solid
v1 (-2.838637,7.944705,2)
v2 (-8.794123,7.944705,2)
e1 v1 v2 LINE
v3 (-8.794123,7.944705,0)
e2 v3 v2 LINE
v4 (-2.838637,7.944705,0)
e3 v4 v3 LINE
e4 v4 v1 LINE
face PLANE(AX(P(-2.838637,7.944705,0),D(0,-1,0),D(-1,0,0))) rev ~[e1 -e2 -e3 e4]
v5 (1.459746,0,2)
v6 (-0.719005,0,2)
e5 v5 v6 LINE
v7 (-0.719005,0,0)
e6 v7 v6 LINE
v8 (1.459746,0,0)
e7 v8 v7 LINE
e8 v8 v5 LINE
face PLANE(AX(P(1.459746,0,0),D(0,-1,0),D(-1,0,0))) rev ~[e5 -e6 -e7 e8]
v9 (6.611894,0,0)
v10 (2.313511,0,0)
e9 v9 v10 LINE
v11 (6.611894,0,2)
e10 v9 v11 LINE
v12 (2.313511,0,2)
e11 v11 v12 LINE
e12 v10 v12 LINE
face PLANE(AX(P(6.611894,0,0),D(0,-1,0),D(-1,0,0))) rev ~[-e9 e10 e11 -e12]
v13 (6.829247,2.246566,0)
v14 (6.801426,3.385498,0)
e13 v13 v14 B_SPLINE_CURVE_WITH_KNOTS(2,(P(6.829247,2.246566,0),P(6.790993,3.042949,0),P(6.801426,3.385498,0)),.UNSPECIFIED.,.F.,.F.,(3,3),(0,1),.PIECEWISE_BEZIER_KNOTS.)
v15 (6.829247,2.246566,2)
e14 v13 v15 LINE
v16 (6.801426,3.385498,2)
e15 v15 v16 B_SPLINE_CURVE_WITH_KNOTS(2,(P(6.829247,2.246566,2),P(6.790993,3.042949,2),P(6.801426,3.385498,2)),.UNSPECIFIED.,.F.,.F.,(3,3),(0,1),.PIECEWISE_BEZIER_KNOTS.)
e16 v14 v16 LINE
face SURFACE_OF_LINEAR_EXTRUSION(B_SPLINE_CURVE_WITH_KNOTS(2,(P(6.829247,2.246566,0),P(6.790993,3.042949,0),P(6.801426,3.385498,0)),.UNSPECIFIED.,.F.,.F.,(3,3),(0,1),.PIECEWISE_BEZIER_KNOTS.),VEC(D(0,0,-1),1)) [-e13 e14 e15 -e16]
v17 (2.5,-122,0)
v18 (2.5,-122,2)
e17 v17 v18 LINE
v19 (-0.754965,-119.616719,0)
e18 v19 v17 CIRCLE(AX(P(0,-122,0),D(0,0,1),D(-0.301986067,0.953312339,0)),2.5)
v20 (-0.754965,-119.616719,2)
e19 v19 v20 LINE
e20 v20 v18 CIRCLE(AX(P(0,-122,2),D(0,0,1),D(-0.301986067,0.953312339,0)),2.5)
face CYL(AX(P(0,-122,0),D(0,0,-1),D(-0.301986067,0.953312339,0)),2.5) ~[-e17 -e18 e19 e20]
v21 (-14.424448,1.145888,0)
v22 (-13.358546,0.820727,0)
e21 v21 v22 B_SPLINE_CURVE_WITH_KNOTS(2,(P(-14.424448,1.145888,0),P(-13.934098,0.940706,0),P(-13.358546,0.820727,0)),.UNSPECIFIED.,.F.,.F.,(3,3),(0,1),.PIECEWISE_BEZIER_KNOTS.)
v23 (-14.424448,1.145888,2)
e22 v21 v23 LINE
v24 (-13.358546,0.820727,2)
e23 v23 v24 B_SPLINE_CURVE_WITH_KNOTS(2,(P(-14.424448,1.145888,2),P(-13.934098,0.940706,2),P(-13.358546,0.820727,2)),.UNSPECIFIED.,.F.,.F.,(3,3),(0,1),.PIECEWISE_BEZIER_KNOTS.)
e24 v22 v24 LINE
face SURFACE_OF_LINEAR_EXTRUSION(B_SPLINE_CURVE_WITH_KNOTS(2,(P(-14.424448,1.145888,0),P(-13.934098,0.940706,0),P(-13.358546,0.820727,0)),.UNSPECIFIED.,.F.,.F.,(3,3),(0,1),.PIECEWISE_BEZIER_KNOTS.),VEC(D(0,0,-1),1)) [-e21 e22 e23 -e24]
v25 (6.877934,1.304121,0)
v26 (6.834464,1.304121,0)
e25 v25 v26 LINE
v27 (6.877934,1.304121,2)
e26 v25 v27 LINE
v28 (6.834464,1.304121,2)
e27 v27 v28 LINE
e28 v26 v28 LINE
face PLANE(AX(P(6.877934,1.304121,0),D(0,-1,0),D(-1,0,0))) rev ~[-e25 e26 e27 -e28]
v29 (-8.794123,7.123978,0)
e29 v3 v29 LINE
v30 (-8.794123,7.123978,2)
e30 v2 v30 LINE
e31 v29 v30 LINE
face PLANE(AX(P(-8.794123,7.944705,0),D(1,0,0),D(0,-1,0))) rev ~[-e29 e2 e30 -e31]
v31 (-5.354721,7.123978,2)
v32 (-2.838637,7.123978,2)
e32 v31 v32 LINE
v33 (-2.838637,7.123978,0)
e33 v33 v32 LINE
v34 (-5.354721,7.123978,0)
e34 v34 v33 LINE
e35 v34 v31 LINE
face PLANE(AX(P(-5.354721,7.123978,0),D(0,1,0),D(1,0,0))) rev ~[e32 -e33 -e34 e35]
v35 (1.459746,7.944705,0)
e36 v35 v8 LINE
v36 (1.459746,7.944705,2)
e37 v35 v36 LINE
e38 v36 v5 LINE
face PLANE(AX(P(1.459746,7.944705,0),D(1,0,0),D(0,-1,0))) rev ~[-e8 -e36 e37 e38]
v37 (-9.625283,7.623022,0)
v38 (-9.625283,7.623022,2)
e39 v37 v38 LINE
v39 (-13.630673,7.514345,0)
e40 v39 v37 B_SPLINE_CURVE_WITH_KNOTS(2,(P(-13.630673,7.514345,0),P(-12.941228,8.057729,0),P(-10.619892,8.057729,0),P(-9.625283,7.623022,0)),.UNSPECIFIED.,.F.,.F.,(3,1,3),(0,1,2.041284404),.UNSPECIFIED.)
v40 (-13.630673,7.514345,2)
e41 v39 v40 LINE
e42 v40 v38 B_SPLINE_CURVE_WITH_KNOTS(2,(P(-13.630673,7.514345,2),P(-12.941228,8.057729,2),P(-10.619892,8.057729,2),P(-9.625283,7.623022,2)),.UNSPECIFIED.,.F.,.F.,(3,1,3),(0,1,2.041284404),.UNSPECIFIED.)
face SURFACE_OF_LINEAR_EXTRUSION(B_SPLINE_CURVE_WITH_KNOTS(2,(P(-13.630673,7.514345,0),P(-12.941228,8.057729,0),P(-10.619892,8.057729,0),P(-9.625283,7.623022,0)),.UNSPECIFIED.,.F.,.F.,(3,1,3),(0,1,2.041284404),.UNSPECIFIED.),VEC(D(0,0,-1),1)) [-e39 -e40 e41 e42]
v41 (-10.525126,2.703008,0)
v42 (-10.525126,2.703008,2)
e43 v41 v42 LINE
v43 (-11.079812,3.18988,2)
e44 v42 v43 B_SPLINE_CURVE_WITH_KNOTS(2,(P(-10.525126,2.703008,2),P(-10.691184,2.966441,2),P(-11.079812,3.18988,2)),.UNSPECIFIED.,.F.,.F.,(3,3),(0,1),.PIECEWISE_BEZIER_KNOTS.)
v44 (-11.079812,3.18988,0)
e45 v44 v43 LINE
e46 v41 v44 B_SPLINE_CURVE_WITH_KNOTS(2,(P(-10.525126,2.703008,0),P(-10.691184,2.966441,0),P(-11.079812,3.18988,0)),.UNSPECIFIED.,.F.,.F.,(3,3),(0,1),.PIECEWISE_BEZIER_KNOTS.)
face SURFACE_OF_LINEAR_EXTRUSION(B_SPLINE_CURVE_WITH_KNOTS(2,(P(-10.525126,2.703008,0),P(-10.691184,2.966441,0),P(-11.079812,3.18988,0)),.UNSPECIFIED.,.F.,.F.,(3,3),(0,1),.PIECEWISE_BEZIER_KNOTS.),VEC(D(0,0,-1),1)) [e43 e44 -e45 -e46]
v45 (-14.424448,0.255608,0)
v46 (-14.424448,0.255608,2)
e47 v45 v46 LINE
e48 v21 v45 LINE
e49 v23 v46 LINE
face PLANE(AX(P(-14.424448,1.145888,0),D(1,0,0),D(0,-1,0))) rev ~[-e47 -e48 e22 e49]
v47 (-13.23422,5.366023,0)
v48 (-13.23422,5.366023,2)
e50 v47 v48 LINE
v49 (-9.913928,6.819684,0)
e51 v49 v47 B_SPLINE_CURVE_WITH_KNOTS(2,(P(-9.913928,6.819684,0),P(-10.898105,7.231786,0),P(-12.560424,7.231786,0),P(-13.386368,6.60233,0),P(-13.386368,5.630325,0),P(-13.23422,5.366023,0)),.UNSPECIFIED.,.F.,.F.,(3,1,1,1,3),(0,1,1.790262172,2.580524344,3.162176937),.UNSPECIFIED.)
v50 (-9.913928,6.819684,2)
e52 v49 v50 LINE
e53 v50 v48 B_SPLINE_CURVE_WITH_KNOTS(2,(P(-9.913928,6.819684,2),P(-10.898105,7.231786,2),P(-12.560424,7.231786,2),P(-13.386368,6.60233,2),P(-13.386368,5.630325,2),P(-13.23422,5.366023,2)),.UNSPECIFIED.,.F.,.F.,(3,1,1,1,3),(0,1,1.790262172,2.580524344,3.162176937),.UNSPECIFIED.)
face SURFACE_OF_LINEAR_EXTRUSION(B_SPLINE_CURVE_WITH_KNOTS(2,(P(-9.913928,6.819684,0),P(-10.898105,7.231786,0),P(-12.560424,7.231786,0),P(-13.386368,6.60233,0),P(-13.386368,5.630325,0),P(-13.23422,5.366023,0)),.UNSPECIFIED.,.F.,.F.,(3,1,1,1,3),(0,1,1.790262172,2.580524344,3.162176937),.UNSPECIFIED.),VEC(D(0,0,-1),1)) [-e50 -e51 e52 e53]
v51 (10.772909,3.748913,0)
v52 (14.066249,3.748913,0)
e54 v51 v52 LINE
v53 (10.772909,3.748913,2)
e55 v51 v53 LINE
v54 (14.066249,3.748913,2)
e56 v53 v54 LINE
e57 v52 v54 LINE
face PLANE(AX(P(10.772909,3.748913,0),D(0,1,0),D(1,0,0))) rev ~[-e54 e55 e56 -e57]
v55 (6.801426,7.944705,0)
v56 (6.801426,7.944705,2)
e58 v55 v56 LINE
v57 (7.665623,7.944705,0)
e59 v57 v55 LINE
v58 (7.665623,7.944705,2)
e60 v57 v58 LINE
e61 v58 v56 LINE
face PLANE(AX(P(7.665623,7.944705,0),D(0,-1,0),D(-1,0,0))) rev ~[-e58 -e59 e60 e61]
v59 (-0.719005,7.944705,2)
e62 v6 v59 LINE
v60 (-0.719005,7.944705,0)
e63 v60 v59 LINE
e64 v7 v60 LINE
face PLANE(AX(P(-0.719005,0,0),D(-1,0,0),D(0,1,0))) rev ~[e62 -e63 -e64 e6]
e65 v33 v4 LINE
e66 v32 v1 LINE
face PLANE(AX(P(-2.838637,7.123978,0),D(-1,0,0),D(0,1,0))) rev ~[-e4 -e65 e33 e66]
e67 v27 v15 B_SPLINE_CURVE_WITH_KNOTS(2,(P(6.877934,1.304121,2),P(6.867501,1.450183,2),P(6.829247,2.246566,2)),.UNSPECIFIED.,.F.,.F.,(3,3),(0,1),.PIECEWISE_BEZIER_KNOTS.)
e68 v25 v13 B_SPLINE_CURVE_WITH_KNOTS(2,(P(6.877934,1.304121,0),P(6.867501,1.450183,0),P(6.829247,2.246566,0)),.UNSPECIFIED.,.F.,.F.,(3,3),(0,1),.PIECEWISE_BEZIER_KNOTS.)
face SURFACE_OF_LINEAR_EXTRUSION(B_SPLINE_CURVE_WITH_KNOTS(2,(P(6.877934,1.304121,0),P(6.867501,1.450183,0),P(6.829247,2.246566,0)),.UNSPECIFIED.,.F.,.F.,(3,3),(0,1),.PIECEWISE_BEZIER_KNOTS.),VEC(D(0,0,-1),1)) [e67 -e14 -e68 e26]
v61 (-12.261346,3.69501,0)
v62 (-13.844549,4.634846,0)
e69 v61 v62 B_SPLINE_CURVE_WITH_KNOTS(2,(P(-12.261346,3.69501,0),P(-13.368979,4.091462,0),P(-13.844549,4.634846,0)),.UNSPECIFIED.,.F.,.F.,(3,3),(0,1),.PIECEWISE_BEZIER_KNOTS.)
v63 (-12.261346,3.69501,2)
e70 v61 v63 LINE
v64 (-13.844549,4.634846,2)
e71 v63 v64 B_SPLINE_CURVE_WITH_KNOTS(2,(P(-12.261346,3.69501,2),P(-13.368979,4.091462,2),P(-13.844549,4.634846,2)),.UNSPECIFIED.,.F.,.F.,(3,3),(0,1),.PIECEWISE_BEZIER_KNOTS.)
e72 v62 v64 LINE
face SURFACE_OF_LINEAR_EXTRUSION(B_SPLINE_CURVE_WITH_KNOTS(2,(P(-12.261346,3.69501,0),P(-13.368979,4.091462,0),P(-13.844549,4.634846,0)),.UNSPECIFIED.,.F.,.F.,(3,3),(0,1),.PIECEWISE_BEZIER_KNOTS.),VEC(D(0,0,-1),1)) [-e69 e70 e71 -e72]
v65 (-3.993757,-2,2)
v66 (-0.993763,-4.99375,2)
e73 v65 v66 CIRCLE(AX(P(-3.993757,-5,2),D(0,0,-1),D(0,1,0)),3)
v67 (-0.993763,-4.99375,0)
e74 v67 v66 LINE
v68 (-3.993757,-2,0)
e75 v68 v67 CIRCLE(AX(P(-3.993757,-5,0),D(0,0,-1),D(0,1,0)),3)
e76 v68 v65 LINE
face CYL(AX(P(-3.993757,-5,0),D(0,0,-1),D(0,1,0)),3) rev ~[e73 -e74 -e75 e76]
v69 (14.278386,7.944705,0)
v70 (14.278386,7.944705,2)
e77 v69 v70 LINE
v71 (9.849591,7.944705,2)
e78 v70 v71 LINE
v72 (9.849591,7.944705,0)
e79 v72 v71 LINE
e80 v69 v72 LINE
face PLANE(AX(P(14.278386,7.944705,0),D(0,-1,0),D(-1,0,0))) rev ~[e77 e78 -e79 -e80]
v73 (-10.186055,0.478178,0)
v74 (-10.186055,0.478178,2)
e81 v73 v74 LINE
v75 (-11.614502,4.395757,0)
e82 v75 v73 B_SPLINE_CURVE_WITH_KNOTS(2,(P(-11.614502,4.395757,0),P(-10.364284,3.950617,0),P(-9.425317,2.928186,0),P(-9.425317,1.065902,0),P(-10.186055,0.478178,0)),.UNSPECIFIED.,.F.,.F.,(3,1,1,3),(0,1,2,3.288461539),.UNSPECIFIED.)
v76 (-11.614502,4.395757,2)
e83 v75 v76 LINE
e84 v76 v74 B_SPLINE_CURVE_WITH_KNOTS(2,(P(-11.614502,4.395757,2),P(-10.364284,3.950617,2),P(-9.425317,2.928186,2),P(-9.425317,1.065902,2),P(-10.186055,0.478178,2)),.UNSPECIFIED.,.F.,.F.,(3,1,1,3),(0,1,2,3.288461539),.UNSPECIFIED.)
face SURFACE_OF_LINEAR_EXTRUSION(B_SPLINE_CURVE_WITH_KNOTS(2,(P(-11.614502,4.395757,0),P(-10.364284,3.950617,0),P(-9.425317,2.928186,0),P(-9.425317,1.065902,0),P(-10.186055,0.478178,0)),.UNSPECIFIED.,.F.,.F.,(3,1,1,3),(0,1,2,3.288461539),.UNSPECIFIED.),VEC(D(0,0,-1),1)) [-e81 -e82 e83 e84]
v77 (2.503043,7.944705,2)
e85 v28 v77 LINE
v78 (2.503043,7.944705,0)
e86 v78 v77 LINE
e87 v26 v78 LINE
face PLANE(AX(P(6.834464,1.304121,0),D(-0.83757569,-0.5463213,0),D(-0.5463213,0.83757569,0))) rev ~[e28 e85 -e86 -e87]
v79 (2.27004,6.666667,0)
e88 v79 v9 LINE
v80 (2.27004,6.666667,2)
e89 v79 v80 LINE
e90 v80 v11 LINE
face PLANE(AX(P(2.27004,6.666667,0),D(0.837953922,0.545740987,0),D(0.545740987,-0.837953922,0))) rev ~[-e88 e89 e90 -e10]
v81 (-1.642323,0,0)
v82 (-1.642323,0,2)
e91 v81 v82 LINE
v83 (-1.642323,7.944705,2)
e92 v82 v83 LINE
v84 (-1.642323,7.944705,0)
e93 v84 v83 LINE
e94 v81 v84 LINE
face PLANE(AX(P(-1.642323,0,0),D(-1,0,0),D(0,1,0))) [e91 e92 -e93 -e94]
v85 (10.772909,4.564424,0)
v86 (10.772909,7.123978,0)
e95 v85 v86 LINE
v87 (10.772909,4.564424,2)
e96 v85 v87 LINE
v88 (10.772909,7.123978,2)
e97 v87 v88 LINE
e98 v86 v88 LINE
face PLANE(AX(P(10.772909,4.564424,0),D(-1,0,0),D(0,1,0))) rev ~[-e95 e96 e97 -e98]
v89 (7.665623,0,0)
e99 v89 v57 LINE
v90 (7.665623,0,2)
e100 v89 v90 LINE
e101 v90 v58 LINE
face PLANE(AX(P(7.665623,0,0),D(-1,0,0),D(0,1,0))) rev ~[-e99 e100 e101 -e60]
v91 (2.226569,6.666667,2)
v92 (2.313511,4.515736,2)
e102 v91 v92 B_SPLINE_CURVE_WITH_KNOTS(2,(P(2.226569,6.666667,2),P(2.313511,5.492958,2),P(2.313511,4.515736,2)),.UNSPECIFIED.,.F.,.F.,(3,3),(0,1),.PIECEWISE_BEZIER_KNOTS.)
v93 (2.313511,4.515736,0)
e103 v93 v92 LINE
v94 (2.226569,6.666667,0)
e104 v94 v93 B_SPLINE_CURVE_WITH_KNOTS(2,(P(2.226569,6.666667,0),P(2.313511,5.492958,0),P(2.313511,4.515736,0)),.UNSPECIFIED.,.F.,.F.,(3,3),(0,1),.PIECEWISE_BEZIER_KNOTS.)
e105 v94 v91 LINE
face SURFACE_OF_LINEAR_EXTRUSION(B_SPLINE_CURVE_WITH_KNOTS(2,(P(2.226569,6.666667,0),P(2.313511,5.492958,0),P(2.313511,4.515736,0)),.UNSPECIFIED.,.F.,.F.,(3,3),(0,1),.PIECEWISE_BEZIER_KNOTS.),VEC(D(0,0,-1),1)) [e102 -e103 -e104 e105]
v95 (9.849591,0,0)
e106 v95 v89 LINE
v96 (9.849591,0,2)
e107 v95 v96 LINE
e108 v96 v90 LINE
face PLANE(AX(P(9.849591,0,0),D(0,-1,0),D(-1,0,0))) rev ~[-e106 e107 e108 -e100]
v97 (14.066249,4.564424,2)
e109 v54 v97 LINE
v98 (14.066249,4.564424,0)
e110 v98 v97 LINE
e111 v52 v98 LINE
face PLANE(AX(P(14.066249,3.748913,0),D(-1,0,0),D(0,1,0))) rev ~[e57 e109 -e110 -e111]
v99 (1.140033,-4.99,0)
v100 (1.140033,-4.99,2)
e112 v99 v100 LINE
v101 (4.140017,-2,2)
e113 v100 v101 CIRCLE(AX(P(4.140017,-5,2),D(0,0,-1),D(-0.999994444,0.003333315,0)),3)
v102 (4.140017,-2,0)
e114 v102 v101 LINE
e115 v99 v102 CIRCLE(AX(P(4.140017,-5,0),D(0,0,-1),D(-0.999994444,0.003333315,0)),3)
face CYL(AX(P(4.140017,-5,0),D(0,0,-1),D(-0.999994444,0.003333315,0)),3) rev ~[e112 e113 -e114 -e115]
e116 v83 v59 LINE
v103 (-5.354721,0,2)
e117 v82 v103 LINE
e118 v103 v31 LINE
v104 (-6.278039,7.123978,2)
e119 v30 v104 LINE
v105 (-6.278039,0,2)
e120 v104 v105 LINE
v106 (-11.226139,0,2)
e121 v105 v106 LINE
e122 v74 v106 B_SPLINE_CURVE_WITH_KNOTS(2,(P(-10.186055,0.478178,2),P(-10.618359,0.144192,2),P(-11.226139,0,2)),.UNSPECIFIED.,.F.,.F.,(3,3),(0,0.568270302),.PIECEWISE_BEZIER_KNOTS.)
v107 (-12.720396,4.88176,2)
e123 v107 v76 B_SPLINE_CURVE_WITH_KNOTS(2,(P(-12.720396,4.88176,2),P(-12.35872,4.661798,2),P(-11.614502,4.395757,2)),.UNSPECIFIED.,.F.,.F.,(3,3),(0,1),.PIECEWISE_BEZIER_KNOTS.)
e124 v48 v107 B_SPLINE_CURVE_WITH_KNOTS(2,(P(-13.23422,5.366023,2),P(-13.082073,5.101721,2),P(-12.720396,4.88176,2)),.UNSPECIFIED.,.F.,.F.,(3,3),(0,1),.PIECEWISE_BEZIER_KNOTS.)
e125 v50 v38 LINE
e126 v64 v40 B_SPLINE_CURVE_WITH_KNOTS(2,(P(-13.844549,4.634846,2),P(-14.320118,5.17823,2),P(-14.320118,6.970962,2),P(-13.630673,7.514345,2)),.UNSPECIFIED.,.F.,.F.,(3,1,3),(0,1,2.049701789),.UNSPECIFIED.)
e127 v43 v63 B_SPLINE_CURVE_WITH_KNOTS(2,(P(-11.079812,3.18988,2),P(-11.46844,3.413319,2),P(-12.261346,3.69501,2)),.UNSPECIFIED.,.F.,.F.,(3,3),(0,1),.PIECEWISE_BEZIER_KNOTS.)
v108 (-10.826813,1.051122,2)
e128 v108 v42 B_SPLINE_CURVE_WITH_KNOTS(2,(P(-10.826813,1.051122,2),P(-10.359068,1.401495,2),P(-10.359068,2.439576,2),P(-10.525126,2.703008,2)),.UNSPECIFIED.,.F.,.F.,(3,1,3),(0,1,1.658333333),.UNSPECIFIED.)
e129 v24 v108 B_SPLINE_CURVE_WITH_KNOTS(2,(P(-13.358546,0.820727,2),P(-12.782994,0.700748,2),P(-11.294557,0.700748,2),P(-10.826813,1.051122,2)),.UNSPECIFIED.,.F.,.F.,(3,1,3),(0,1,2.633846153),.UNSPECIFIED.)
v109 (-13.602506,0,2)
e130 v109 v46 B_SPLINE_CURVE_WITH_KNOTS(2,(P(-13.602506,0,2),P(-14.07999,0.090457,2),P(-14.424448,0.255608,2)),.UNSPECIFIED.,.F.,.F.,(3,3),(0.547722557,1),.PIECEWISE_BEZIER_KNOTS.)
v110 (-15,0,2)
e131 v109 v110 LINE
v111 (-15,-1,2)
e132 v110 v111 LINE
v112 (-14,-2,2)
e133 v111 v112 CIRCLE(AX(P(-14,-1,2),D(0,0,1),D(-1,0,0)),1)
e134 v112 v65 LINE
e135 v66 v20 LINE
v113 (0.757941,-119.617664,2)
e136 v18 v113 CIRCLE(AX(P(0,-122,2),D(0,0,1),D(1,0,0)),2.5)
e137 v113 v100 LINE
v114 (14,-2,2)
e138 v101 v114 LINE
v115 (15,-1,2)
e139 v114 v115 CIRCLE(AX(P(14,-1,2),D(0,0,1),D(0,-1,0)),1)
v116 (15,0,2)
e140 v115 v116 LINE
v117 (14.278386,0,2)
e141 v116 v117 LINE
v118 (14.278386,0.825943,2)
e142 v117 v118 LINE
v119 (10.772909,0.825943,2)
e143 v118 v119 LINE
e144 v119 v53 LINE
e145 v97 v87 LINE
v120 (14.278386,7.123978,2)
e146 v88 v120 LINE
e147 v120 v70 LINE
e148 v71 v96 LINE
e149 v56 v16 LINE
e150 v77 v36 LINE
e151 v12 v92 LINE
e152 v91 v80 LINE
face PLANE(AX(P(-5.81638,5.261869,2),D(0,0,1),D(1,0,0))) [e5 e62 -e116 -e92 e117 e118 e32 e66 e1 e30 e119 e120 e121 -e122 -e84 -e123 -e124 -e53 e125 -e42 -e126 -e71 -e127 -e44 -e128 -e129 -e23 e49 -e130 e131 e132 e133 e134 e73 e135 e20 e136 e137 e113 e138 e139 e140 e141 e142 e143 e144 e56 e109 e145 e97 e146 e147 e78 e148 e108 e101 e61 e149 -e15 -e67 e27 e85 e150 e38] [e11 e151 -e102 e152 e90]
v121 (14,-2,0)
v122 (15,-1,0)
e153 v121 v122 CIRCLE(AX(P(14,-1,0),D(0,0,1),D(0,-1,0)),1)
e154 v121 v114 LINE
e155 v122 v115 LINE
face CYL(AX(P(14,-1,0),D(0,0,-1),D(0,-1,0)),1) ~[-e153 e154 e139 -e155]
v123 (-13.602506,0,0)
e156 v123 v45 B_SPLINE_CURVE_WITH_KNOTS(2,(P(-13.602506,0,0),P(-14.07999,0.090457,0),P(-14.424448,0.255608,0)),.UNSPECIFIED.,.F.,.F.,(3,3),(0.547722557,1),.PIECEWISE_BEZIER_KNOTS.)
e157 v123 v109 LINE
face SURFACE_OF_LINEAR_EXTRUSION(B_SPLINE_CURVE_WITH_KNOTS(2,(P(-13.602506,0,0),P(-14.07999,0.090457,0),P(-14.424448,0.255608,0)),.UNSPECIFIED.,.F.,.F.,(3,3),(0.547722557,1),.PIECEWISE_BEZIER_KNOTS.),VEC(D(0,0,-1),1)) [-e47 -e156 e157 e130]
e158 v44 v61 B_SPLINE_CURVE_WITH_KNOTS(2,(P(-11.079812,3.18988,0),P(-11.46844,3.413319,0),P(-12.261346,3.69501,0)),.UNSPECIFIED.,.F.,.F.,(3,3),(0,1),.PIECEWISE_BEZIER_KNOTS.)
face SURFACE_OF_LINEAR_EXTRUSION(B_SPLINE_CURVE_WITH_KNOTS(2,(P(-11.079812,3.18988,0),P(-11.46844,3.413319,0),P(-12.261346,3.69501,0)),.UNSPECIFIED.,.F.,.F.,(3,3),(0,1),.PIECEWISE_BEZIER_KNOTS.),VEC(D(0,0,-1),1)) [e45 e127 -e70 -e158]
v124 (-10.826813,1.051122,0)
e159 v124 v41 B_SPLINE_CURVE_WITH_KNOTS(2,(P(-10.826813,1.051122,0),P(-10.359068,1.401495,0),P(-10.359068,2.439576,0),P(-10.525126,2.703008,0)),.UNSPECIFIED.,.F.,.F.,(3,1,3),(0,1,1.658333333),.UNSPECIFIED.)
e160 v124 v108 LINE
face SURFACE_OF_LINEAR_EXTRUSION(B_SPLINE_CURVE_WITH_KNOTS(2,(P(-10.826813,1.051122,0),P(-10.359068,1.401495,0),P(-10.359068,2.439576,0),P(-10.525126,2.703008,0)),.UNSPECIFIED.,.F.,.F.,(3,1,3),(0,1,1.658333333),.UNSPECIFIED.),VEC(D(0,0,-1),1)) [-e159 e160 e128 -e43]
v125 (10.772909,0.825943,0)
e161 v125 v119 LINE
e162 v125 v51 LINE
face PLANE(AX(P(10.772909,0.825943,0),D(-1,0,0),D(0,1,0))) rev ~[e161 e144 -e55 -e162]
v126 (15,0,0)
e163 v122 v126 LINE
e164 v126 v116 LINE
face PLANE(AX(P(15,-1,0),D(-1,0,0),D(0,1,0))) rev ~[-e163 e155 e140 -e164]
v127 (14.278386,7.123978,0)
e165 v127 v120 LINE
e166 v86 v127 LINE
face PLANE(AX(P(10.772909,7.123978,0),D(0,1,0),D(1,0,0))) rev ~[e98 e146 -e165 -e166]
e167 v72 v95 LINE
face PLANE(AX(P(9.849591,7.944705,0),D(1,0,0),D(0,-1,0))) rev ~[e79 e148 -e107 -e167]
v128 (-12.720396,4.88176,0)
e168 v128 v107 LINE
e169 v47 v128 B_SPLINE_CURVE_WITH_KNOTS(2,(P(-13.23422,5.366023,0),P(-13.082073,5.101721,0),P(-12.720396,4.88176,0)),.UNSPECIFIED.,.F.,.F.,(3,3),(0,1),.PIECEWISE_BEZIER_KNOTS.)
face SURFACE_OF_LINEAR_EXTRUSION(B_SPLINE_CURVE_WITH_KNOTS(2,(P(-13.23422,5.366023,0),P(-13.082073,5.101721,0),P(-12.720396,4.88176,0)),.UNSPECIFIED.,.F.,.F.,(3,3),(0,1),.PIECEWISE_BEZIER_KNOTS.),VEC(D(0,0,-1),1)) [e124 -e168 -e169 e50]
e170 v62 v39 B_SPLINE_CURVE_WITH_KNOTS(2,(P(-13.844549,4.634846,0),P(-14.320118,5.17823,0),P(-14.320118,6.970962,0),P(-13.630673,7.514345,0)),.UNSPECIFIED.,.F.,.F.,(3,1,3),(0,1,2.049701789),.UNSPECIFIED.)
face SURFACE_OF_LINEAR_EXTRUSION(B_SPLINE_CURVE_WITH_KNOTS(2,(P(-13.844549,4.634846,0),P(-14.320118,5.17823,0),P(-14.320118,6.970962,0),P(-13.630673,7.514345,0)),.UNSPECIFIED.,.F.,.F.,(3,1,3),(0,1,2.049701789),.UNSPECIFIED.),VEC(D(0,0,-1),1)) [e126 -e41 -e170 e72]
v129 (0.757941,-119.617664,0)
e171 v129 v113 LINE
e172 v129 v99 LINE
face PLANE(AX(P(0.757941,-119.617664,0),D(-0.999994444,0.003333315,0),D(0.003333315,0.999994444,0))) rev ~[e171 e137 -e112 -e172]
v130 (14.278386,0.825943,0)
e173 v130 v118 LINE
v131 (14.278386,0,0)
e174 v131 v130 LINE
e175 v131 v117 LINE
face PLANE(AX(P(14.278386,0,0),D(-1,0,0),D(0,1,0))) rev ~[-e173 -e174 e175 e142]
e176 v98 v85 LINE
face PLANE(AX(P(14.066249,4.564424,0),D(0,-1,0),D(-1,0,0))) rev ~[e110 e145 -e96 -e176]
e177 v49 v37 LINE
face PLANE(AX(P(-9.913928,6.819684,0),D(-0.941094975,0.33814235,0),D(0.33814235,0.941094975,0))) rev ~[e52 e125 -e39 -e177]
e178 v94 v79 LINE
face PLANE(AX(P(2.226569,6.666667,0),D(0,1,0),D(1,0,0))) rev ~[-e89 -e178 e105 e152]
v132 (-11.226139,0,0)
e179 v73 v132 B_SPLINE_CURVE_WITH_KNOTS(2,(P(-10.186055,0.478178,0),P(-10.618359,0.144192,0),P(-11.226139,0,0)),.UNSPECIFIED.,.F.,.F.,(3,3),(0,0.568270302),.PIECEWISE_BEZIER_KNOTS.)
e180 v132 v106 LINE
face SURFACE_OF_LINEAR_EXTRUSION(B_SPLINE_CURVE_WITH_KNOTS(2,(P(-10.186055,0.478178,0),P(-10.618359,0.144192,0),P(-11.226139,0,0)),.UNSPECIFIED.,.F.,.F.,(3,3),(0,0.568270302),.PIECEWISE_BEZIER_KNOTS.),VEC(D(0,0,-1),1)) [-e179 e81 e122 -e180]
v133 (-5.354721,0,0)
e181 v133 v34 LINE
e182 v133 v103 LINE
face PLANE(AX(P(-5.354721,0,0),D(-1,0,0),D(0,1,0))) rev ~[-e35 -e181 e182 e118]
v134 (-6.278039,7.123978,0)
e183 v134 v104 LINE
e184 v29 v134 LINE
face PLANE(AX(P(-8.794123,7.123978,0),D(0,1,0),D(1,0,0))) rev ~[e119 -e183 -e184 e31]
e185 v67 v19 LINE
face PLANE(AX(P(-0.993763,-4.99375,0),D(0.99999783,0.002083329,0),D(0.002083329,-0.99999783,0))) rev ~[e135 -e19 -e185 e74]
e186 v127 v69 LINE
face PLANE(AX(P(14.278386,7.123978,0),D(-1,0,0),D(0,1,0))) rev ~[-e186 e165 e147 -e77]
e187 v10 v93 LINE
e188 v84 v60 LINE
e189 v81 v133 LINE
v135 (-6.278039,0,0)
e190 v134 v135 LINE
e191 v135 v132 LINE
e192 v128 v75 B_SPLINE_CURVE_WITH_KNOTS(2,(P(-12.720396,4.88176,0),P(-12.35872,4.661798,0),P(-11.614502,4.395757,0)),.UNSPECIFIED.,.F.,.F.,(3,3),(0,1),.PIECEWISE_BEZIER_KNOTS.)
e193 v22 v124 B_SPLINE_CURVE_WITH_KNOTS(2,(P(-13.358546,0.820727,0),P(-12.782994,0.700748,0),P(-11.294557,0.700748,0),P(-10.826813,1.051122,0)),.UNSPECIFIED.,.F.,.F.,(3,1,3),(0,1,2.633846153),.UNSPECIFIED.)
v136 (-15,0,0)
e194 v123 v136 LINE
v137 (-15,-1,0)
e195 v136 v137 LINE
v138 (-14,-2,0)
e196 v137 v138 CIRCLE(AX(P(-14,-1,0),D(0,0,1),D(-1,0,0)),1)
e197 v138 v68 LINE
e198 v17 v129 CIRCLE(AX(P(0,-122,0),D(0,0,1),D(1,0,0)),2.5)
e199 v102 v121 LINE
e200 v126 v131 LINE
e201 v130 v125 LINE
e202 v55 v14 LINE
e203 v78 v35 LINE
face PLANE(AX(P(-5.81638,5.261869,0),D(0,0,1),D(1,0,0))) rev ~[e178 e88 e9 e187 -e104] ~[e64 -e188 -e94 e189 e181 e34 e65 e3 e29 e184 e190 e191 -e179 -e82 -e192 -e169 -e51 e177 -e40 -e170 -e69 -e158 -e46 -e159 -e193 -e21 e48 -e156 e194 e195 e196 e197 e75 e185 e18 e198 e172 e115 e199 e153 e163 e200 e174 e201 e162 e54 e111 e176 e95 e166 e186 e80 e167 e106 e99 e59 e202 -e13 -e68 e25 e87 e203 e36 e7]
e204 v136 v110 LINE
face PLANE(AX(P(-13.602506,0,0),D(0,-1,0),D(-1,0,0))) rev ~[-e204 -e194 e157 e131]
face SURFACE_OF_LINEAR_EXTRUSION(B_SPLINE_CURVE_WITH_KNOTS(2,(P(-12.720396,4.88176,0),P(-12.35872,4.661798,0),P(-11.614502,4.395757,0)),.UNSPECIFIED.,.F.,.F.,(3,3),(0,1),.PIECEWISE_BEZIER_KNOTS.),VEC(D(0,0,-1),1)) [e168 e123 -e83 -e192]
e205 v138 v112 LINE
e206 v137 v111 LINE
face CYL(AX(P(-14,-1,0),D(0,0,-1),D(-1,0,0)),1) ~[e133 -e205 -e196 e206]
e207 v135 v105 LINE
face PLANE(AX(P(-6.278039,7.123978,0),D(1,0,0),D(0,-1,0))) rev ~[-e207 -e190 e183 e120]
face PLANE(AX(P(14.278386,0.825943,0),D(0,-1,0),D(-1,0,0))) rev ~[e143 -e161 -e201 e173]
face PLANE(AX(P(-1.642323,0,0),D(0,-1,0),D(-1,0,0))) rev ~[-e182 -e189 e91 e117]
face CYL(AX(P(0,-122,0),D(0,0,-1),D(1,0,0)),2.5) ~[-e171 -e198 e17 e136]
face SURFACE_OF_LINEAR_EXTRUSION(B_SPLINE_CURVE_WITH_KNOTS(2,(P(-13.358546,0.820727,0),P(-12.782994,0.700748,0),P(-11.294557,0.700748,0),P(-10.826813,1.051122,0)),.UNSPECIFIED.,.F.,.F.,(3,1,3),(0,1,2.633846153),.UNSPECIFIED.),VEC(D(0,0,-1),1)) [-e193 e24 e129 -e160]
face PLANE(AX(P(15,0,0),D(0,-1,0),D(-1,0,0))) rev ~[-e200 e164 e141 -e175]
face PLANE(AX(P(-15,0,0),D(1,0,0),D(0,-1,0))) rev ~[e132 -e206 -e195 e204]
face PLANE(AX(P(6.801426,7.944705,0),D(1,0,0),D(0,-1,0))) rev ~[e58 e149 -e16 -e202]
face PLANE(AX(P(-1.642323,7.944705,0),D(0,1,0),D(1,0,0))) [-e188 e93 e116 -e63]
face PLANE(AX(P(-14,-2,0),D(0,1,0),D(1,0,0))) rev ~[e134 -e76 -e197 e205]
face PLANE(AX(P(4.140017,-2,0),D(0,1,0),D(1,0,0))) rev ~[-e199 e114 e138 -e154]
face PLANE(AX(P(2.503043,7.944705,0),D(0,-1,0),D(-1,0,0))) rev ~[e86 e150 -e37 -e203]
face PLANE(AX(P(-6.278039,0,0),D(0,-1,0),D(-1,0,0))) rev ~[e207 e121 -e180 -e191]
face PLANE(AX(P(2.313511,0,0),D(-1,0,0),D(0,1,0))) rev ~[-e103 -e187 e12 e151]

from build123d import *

# Parameters (mm, degrees)
F0_W     = 0.9233176839
F0_H     = 7.9447052686
F1_DEPTH = 2


with BuildPart() as f1:
    # F0 (on Top) → F1 (new body)
    with BuildSketch(Plane.XY):
        Polygon((-6.278038602, 7.1239784385), (-6.278038602, 0), (-5.3547209181, 0), (-5.3547209181, 7.1239784385), (-2.8386367588, 7.1239784385), (-2.8386367588, 7.9447052686), (-8.7941227613, 7.9447052686), (-8.7941227613, 7.1239784385), align=None)
        with BuildLine():
            Line((-5.3547209181, 0), (-6.278038602, 0))
            Line((-6.278038602, 0), (-11.2261389214, 0))
            add(Edge.make_bspline(
                [(-11.2261389214, 0), (-11.6878851089, -0.1095461659), (-12.2509128847, -0.1095461659)],
                knots=[0.5682703015, 0.5682703015, 0.5682703015, 1, 1, 1], degree=2))
            add(Edge.make_bspline(
                [(-12.2509128847, -0.1095461659), (-13.0242578972, -0.1095461659), (-13.6025064048, 0)],
                knots=[0, 0, 0, 0.5477225575, 0.5477225575, 0.5477225575], degree=2))
            Line((-13.6025064048, 0), (-15, 0))
            Line((-15, 0), (-15, -1))
            ThreePointArc((-15, -1), (-14.7071067812, -1.7071067812), (-14, -2))
            Line((-14, -2), (-3.9937565104, -2))
            ThreePointArc((-3.9937565104, -2), (-1.8746470228, -2.8764711022), (-0.9937630208, -4.9937500136))
            Line((-0.9937630208, -4.9937500136), (-0.7549651684, -119.6167191533))
            ThreePointArc((-0.7549651684, -119.6167191533), (0.0015611574, -119.5000004874), (0.7579411203, -119.6176639074))
            Line((0.7579411203, -119.6176639074), (1.1400333331, -4.9900000556))
            ThreePointArc((1.1400333331, -4.9900000556), (2.0222347885, -2.8751470835), (4.1400166666, -2))
            Line((4.1400166666, -2), (14, -2))
            ThreePointArc((14, -2), (14.7071067812, -1.7071067812), (15, -1))
            Line((15, -1), (15, 0))
            Line((15, 0), (14.2783863676, 0))
            Line((14.2783863676, 0), (9.8495913754, 0))
            Line((9.8495913754, 0), (7.6656233698, 0))
            Line((7.6656233698, 0), (6.6118935837, 0))
            Line((6.6118935837, 0), (2.3135106938, 0))
            Line((2.3135106938, 0), (1.4597461311, 0))
            Line((1.4597461311, 0), (-0.7190053904, 0))
            Line((-0.7190053904, 0), (-1.6423230742, 0))
            Line((-1.6423230742, 0), (-5.3547209181, 0))
        make_face()
        with BuildLine():
            add(Edge.make_bspline(
                [(-11.2261389214, 0), (-11.6878851089, -0.1095461659), (-12.2509128847, -0.1095461659)],
                knots=[0.5682703015, 0.5682703015, 0.5682703015, 1, 1, 1], degree=2))
            Line((-11.2261389214, 0), (-13.6025064048, 0))
            add(Edge.make_bspline(
                [(-12.2509128847, -0.1095461659), (-13.0242578972, -0.1095461659), (-13.6025064048, 0)],
                knots=[0, 0, 0, 0.5477225575, 0.5477225575, 0.5477225575], degree=2))
        make_face()
        with BuildLine():
            Line((-13.6025064048, 0), (-11.2261389214, 0))
            add(Edge.make_bspline(
                [(-10.1860545992, 0.4781777082), (-10.6183589931, 0.1441916851), (-11.2261389214, 0)],
                knots=[0, 0, 0, 0.5682703015, 0.5682703015, 0.5682703015], degree=2))
            add(Edge.make_bspline(
                [(-9.4253173361, 2.1144148844), (-9.4253173361, 1.0659015823), (-10.1860545992, 0.4781777082)],
                knots=[0, 0, 0, 1, 1, 1], degree=2))
            add(Edge.make_bspline(
                [(-9.8948009042, 3.4394018432), (-9.4253173361, 2.9281864024), (-9.4253173361, 2.1144148844)],
                knots=[0, 0, 0, 1, 1, 1], degree=2))
            add(Edge.make_bspline(
                [(-11.6145018258, 4.3957572596), (-10.3642844723, 3.950617284), (-9.8948009042, 3.4394018432)],
                knots=[0, 0, 0, 1, 1, 1], degree=2))
            add(Edge.make_bspline(
                [(-12.7203964528, 4.881759694), (-12.3587202226, 4.6617979482), (-11.6145018258, 4.3957572596)],
                knots=[0, 0, 0, 1, 1, 1], degree=2))
            add(Edge.make_bspline(
                [(-13.2342201356, 5.3660233003), (-13.082072683, 5.1017214397), (-12.7203964528, 4.881759694)],
                knots=[0, 0, 0, 1, 1, 1], degree=2))
            add(Edge.make_bspline(
                [(-13.3863675882, 6.0424274039), (-13.3863675882, 5.6303251608), (-13.2342201356, 5.3660233003)],
                knots=[0, 0, 0, 1, 1, 1], degree=2))
            add(Edge.make_bspline(
                [(-12.9733959311, 6.917057903), (-13.3863675882, 6.6023300296), (-13.3863675882, 6.0424274039)],
                knots=[0, 0, 0, 1, 1, 1], degree=2))
            add(Edge.make_bspline(
                [(-11.8266388454, 7.2317857764), (-12.560424274, 7.2317857764), (-12.9733959311, 6.917057903)],
                knots=[0, 0, 0, 1, 1, 1], degree=2))
            add(Edge.make_bspline(
                [(-9.9139280125, 6.8196835333), (-10.8981046774, 7.2317857764), (-11.8266388454, 7.2317857764)],
                knots=[0, 0, 0, 1, 1, 1], degree=2))
            Line((-9.9139280125, 6.8196835333), (-9.6252825596, 7.6230220831))
            add(Edge.make_bspline(
                [(-11.804034081, 8.0577290906), (-10.6198921927, 8.0577290906), (-9.6252825596, 7.6230220831)],
                knots=[0, 0, 0, 1, 1, 1], degree=2))
            add(Edge.make_bspline(
                [(-13.6306729264, 7.5143453312), (-12.9412276126, 8.0577290906), (-11.804034081, 8.0577290906)],
                knots=[0, 0, 0, 1, 1, 1], degree=2))
            add(Edge.make_bspline(
                [(-14.3201182403, 6.0528603721), (-14.3201182403, 6.9709615719), (-13.6306729264, 7.5143453312)],
                knots=[0, 0, 0, 1, 1, 1], degree=2))
            add(Edge.make_bspline(
                [(-13.8445487741, 4.6348461137), (-14.3201182403, 5.1782298731), (-14.3201182403, 6.0528603721)],
                knots=[0, 0, 0, 1, 1, 1], degree=2))
            add(Edge.make_bspline(
                [(-12.2613458529, 3.6950095636), (-13.3689793079, 4.0914623544), (-13.8445487741, 4.6348461137)],
                knots=[0, 0, 0, 1, 1, 1], degree=2))
            add(Edge.make_bspline(
                [(-11.0798122066, 3.1898800209), (-11.4684402713, 3.4133194227), (-12.2613458529, 3.6950095636)],
                knots=[0, 0, 0, 1, 1, 1], degree=2))
            add(Edge.make_bspline(
                [(-10.525126065, 2.7030081725), (-10.6911841419, 2.966440619), (-11.0798122066, 3.1898800209)],
                knots=[0, 0, 0, 1, 1, 1], degree=2))
            add(Edge.make_bspline(
                [(-10.3590679882, 2.0274734829), (-10.3590679882, 2.439575726), (-10.525126065, 2.7030081725)],
                knots=[0, 0, 0, 1, 1, 1], degree=2))
            add(Edge.make_bspline(
                [(-10.8268127282, 1.0511215441), (-10.3590679882, 1.4014953921), (-10.3590679882, 2.0274734829)],
                knots=[0, 0, 0, 1, 1, 1], degree=2))
            add(Edge.make_bspline(
                [(-12.2178751521, 0.7007476961), (-11.2945574683, 0.7007476961), (-10.8268127282, 1.0511215441)],
                knots=[0, 0, 0, 1, 1, 1], degree=2))
            add(Edge.make_bspline(
                [(-13.3585463398, 0.8207268301), (-12.7829942619, 0.7007476961), (-12.2178751521, 0.7007476961)],
                knots=[0, 0, 0, 1, 1, 1], degree=2))
            add(Edge.make_bspline(
                [(-14.4244479221, 1.1458876717), (-13.9340984177, 0.9407059642), (-13.3585463398, 0.8207268301)],
                knots=[0, 0, 0, 1, 1, 1], degree=2))
            Line((-14.4244479221, 1.1458876717), (-14.4244479221, 0.2556077204))
            add(Edge.make_bspline(
                [(-13.6025064048, 0), (-14.079990402, 0.0904568546), (-14.4244479221, 0.2556077204)],
                knots=[0.5477225575, 0.5477225575, 0.5477225575, 1, 1, 1], degree=2))
        make_face()
        with Locations((-1.1806642323, 3.9723526343)):
            Rectangle(F0_W, F0_H)
        with BuildLine():
            Line((1.4597461311, 7.9447052686), (1.4597461311, 0))
            Line((1.4597461311, 0), (2.3135106938, 0))
            Line((2.3135106938, 0), (2.3135106938, 4.5157363937))
            add(Edge.make_bspline(
                [(2.2265692923, 6.6666666667), (2.3135106938, 5.4929577465), (2.3135106938, 4.5157363937)],
                knots=[0, 0, 0, 1, 1, 1], degree=2))
            Line((2.2265692923, 6.6666666667), (2.270039993, 6.6666666667))
            Line((2.270039993, 6.6666666667), (6.6118935837, 0))
            Line((6.6118935837, 0), (7.6656233698, 0))
            Line((7.6656233698, 0), (7.6656233698, 7.9447052686))
            Line((7.6656233698, 7.9447052686), (6.801425839, 7.9447052686))
            Line((6.801425839, 7.9447052686), (6.801425839, 3.3854981742))
            add(Edge.make_bspline(
                [(6.8292470875, 2.2465658146), (6.7909928708, 3.0429490523), (6.801425839, 3.3854981742)],
                knots=[0, 0, 0, 1, 1, 1], degree=2))
            add(Edge.make_bspline(
                [(6.8779342723, 1.3041210224), (6.8675013041, 1.4501825769), (6.8292470875, 2.2465658146)],
                knots=[0, 0, 0, 1, 1, 1], degree=2))
            Line((6.8779342723, 1.3041210224), (6.8344635716, 1.3041210224))
            Line((6.8344635716, 1.3041210224), (2.5030429491, 7.9447052686))
            Line((2.5030429491, 7.9447052686), (1.4597461311, 7.9447052686))
        make_face()
        Polygon((9.8495913754, 7.9447052686), (9.8495913754, 0), (14.2783863676, 0), (14.2783863676, 0.8259433142), (10.7729090593, 0.8259433142), (10.7729090593, 3.7489132325), (14.0662493479, 3.7489132325), (14.0662493479, 4.5644235785), (10.7729090593, 4.5644235785), (10.7729090593, 7.1239784385), (14.2783863676, 7.1239784385), (14.2783863676, 7.9447052686), align=None)
        with BuildLine():
            ThreePointArc((0.7579411203, -119.6176639074), (0.0015611574, -119.5000004874), (-0.7549651684, -119.6167191533))
            ThreePointArc((-0.7549651684, -119.6167191533), (-1.4769202888, -124.0171034829), (2.5, -122))
            ThreePointArc((2.5, -122), (2.0180253716, -120.5243396056), (0.7579411203, -119.6176639074))
        make_face()
    extrude(amount=F1_DEPTH)


solid = f1.part
